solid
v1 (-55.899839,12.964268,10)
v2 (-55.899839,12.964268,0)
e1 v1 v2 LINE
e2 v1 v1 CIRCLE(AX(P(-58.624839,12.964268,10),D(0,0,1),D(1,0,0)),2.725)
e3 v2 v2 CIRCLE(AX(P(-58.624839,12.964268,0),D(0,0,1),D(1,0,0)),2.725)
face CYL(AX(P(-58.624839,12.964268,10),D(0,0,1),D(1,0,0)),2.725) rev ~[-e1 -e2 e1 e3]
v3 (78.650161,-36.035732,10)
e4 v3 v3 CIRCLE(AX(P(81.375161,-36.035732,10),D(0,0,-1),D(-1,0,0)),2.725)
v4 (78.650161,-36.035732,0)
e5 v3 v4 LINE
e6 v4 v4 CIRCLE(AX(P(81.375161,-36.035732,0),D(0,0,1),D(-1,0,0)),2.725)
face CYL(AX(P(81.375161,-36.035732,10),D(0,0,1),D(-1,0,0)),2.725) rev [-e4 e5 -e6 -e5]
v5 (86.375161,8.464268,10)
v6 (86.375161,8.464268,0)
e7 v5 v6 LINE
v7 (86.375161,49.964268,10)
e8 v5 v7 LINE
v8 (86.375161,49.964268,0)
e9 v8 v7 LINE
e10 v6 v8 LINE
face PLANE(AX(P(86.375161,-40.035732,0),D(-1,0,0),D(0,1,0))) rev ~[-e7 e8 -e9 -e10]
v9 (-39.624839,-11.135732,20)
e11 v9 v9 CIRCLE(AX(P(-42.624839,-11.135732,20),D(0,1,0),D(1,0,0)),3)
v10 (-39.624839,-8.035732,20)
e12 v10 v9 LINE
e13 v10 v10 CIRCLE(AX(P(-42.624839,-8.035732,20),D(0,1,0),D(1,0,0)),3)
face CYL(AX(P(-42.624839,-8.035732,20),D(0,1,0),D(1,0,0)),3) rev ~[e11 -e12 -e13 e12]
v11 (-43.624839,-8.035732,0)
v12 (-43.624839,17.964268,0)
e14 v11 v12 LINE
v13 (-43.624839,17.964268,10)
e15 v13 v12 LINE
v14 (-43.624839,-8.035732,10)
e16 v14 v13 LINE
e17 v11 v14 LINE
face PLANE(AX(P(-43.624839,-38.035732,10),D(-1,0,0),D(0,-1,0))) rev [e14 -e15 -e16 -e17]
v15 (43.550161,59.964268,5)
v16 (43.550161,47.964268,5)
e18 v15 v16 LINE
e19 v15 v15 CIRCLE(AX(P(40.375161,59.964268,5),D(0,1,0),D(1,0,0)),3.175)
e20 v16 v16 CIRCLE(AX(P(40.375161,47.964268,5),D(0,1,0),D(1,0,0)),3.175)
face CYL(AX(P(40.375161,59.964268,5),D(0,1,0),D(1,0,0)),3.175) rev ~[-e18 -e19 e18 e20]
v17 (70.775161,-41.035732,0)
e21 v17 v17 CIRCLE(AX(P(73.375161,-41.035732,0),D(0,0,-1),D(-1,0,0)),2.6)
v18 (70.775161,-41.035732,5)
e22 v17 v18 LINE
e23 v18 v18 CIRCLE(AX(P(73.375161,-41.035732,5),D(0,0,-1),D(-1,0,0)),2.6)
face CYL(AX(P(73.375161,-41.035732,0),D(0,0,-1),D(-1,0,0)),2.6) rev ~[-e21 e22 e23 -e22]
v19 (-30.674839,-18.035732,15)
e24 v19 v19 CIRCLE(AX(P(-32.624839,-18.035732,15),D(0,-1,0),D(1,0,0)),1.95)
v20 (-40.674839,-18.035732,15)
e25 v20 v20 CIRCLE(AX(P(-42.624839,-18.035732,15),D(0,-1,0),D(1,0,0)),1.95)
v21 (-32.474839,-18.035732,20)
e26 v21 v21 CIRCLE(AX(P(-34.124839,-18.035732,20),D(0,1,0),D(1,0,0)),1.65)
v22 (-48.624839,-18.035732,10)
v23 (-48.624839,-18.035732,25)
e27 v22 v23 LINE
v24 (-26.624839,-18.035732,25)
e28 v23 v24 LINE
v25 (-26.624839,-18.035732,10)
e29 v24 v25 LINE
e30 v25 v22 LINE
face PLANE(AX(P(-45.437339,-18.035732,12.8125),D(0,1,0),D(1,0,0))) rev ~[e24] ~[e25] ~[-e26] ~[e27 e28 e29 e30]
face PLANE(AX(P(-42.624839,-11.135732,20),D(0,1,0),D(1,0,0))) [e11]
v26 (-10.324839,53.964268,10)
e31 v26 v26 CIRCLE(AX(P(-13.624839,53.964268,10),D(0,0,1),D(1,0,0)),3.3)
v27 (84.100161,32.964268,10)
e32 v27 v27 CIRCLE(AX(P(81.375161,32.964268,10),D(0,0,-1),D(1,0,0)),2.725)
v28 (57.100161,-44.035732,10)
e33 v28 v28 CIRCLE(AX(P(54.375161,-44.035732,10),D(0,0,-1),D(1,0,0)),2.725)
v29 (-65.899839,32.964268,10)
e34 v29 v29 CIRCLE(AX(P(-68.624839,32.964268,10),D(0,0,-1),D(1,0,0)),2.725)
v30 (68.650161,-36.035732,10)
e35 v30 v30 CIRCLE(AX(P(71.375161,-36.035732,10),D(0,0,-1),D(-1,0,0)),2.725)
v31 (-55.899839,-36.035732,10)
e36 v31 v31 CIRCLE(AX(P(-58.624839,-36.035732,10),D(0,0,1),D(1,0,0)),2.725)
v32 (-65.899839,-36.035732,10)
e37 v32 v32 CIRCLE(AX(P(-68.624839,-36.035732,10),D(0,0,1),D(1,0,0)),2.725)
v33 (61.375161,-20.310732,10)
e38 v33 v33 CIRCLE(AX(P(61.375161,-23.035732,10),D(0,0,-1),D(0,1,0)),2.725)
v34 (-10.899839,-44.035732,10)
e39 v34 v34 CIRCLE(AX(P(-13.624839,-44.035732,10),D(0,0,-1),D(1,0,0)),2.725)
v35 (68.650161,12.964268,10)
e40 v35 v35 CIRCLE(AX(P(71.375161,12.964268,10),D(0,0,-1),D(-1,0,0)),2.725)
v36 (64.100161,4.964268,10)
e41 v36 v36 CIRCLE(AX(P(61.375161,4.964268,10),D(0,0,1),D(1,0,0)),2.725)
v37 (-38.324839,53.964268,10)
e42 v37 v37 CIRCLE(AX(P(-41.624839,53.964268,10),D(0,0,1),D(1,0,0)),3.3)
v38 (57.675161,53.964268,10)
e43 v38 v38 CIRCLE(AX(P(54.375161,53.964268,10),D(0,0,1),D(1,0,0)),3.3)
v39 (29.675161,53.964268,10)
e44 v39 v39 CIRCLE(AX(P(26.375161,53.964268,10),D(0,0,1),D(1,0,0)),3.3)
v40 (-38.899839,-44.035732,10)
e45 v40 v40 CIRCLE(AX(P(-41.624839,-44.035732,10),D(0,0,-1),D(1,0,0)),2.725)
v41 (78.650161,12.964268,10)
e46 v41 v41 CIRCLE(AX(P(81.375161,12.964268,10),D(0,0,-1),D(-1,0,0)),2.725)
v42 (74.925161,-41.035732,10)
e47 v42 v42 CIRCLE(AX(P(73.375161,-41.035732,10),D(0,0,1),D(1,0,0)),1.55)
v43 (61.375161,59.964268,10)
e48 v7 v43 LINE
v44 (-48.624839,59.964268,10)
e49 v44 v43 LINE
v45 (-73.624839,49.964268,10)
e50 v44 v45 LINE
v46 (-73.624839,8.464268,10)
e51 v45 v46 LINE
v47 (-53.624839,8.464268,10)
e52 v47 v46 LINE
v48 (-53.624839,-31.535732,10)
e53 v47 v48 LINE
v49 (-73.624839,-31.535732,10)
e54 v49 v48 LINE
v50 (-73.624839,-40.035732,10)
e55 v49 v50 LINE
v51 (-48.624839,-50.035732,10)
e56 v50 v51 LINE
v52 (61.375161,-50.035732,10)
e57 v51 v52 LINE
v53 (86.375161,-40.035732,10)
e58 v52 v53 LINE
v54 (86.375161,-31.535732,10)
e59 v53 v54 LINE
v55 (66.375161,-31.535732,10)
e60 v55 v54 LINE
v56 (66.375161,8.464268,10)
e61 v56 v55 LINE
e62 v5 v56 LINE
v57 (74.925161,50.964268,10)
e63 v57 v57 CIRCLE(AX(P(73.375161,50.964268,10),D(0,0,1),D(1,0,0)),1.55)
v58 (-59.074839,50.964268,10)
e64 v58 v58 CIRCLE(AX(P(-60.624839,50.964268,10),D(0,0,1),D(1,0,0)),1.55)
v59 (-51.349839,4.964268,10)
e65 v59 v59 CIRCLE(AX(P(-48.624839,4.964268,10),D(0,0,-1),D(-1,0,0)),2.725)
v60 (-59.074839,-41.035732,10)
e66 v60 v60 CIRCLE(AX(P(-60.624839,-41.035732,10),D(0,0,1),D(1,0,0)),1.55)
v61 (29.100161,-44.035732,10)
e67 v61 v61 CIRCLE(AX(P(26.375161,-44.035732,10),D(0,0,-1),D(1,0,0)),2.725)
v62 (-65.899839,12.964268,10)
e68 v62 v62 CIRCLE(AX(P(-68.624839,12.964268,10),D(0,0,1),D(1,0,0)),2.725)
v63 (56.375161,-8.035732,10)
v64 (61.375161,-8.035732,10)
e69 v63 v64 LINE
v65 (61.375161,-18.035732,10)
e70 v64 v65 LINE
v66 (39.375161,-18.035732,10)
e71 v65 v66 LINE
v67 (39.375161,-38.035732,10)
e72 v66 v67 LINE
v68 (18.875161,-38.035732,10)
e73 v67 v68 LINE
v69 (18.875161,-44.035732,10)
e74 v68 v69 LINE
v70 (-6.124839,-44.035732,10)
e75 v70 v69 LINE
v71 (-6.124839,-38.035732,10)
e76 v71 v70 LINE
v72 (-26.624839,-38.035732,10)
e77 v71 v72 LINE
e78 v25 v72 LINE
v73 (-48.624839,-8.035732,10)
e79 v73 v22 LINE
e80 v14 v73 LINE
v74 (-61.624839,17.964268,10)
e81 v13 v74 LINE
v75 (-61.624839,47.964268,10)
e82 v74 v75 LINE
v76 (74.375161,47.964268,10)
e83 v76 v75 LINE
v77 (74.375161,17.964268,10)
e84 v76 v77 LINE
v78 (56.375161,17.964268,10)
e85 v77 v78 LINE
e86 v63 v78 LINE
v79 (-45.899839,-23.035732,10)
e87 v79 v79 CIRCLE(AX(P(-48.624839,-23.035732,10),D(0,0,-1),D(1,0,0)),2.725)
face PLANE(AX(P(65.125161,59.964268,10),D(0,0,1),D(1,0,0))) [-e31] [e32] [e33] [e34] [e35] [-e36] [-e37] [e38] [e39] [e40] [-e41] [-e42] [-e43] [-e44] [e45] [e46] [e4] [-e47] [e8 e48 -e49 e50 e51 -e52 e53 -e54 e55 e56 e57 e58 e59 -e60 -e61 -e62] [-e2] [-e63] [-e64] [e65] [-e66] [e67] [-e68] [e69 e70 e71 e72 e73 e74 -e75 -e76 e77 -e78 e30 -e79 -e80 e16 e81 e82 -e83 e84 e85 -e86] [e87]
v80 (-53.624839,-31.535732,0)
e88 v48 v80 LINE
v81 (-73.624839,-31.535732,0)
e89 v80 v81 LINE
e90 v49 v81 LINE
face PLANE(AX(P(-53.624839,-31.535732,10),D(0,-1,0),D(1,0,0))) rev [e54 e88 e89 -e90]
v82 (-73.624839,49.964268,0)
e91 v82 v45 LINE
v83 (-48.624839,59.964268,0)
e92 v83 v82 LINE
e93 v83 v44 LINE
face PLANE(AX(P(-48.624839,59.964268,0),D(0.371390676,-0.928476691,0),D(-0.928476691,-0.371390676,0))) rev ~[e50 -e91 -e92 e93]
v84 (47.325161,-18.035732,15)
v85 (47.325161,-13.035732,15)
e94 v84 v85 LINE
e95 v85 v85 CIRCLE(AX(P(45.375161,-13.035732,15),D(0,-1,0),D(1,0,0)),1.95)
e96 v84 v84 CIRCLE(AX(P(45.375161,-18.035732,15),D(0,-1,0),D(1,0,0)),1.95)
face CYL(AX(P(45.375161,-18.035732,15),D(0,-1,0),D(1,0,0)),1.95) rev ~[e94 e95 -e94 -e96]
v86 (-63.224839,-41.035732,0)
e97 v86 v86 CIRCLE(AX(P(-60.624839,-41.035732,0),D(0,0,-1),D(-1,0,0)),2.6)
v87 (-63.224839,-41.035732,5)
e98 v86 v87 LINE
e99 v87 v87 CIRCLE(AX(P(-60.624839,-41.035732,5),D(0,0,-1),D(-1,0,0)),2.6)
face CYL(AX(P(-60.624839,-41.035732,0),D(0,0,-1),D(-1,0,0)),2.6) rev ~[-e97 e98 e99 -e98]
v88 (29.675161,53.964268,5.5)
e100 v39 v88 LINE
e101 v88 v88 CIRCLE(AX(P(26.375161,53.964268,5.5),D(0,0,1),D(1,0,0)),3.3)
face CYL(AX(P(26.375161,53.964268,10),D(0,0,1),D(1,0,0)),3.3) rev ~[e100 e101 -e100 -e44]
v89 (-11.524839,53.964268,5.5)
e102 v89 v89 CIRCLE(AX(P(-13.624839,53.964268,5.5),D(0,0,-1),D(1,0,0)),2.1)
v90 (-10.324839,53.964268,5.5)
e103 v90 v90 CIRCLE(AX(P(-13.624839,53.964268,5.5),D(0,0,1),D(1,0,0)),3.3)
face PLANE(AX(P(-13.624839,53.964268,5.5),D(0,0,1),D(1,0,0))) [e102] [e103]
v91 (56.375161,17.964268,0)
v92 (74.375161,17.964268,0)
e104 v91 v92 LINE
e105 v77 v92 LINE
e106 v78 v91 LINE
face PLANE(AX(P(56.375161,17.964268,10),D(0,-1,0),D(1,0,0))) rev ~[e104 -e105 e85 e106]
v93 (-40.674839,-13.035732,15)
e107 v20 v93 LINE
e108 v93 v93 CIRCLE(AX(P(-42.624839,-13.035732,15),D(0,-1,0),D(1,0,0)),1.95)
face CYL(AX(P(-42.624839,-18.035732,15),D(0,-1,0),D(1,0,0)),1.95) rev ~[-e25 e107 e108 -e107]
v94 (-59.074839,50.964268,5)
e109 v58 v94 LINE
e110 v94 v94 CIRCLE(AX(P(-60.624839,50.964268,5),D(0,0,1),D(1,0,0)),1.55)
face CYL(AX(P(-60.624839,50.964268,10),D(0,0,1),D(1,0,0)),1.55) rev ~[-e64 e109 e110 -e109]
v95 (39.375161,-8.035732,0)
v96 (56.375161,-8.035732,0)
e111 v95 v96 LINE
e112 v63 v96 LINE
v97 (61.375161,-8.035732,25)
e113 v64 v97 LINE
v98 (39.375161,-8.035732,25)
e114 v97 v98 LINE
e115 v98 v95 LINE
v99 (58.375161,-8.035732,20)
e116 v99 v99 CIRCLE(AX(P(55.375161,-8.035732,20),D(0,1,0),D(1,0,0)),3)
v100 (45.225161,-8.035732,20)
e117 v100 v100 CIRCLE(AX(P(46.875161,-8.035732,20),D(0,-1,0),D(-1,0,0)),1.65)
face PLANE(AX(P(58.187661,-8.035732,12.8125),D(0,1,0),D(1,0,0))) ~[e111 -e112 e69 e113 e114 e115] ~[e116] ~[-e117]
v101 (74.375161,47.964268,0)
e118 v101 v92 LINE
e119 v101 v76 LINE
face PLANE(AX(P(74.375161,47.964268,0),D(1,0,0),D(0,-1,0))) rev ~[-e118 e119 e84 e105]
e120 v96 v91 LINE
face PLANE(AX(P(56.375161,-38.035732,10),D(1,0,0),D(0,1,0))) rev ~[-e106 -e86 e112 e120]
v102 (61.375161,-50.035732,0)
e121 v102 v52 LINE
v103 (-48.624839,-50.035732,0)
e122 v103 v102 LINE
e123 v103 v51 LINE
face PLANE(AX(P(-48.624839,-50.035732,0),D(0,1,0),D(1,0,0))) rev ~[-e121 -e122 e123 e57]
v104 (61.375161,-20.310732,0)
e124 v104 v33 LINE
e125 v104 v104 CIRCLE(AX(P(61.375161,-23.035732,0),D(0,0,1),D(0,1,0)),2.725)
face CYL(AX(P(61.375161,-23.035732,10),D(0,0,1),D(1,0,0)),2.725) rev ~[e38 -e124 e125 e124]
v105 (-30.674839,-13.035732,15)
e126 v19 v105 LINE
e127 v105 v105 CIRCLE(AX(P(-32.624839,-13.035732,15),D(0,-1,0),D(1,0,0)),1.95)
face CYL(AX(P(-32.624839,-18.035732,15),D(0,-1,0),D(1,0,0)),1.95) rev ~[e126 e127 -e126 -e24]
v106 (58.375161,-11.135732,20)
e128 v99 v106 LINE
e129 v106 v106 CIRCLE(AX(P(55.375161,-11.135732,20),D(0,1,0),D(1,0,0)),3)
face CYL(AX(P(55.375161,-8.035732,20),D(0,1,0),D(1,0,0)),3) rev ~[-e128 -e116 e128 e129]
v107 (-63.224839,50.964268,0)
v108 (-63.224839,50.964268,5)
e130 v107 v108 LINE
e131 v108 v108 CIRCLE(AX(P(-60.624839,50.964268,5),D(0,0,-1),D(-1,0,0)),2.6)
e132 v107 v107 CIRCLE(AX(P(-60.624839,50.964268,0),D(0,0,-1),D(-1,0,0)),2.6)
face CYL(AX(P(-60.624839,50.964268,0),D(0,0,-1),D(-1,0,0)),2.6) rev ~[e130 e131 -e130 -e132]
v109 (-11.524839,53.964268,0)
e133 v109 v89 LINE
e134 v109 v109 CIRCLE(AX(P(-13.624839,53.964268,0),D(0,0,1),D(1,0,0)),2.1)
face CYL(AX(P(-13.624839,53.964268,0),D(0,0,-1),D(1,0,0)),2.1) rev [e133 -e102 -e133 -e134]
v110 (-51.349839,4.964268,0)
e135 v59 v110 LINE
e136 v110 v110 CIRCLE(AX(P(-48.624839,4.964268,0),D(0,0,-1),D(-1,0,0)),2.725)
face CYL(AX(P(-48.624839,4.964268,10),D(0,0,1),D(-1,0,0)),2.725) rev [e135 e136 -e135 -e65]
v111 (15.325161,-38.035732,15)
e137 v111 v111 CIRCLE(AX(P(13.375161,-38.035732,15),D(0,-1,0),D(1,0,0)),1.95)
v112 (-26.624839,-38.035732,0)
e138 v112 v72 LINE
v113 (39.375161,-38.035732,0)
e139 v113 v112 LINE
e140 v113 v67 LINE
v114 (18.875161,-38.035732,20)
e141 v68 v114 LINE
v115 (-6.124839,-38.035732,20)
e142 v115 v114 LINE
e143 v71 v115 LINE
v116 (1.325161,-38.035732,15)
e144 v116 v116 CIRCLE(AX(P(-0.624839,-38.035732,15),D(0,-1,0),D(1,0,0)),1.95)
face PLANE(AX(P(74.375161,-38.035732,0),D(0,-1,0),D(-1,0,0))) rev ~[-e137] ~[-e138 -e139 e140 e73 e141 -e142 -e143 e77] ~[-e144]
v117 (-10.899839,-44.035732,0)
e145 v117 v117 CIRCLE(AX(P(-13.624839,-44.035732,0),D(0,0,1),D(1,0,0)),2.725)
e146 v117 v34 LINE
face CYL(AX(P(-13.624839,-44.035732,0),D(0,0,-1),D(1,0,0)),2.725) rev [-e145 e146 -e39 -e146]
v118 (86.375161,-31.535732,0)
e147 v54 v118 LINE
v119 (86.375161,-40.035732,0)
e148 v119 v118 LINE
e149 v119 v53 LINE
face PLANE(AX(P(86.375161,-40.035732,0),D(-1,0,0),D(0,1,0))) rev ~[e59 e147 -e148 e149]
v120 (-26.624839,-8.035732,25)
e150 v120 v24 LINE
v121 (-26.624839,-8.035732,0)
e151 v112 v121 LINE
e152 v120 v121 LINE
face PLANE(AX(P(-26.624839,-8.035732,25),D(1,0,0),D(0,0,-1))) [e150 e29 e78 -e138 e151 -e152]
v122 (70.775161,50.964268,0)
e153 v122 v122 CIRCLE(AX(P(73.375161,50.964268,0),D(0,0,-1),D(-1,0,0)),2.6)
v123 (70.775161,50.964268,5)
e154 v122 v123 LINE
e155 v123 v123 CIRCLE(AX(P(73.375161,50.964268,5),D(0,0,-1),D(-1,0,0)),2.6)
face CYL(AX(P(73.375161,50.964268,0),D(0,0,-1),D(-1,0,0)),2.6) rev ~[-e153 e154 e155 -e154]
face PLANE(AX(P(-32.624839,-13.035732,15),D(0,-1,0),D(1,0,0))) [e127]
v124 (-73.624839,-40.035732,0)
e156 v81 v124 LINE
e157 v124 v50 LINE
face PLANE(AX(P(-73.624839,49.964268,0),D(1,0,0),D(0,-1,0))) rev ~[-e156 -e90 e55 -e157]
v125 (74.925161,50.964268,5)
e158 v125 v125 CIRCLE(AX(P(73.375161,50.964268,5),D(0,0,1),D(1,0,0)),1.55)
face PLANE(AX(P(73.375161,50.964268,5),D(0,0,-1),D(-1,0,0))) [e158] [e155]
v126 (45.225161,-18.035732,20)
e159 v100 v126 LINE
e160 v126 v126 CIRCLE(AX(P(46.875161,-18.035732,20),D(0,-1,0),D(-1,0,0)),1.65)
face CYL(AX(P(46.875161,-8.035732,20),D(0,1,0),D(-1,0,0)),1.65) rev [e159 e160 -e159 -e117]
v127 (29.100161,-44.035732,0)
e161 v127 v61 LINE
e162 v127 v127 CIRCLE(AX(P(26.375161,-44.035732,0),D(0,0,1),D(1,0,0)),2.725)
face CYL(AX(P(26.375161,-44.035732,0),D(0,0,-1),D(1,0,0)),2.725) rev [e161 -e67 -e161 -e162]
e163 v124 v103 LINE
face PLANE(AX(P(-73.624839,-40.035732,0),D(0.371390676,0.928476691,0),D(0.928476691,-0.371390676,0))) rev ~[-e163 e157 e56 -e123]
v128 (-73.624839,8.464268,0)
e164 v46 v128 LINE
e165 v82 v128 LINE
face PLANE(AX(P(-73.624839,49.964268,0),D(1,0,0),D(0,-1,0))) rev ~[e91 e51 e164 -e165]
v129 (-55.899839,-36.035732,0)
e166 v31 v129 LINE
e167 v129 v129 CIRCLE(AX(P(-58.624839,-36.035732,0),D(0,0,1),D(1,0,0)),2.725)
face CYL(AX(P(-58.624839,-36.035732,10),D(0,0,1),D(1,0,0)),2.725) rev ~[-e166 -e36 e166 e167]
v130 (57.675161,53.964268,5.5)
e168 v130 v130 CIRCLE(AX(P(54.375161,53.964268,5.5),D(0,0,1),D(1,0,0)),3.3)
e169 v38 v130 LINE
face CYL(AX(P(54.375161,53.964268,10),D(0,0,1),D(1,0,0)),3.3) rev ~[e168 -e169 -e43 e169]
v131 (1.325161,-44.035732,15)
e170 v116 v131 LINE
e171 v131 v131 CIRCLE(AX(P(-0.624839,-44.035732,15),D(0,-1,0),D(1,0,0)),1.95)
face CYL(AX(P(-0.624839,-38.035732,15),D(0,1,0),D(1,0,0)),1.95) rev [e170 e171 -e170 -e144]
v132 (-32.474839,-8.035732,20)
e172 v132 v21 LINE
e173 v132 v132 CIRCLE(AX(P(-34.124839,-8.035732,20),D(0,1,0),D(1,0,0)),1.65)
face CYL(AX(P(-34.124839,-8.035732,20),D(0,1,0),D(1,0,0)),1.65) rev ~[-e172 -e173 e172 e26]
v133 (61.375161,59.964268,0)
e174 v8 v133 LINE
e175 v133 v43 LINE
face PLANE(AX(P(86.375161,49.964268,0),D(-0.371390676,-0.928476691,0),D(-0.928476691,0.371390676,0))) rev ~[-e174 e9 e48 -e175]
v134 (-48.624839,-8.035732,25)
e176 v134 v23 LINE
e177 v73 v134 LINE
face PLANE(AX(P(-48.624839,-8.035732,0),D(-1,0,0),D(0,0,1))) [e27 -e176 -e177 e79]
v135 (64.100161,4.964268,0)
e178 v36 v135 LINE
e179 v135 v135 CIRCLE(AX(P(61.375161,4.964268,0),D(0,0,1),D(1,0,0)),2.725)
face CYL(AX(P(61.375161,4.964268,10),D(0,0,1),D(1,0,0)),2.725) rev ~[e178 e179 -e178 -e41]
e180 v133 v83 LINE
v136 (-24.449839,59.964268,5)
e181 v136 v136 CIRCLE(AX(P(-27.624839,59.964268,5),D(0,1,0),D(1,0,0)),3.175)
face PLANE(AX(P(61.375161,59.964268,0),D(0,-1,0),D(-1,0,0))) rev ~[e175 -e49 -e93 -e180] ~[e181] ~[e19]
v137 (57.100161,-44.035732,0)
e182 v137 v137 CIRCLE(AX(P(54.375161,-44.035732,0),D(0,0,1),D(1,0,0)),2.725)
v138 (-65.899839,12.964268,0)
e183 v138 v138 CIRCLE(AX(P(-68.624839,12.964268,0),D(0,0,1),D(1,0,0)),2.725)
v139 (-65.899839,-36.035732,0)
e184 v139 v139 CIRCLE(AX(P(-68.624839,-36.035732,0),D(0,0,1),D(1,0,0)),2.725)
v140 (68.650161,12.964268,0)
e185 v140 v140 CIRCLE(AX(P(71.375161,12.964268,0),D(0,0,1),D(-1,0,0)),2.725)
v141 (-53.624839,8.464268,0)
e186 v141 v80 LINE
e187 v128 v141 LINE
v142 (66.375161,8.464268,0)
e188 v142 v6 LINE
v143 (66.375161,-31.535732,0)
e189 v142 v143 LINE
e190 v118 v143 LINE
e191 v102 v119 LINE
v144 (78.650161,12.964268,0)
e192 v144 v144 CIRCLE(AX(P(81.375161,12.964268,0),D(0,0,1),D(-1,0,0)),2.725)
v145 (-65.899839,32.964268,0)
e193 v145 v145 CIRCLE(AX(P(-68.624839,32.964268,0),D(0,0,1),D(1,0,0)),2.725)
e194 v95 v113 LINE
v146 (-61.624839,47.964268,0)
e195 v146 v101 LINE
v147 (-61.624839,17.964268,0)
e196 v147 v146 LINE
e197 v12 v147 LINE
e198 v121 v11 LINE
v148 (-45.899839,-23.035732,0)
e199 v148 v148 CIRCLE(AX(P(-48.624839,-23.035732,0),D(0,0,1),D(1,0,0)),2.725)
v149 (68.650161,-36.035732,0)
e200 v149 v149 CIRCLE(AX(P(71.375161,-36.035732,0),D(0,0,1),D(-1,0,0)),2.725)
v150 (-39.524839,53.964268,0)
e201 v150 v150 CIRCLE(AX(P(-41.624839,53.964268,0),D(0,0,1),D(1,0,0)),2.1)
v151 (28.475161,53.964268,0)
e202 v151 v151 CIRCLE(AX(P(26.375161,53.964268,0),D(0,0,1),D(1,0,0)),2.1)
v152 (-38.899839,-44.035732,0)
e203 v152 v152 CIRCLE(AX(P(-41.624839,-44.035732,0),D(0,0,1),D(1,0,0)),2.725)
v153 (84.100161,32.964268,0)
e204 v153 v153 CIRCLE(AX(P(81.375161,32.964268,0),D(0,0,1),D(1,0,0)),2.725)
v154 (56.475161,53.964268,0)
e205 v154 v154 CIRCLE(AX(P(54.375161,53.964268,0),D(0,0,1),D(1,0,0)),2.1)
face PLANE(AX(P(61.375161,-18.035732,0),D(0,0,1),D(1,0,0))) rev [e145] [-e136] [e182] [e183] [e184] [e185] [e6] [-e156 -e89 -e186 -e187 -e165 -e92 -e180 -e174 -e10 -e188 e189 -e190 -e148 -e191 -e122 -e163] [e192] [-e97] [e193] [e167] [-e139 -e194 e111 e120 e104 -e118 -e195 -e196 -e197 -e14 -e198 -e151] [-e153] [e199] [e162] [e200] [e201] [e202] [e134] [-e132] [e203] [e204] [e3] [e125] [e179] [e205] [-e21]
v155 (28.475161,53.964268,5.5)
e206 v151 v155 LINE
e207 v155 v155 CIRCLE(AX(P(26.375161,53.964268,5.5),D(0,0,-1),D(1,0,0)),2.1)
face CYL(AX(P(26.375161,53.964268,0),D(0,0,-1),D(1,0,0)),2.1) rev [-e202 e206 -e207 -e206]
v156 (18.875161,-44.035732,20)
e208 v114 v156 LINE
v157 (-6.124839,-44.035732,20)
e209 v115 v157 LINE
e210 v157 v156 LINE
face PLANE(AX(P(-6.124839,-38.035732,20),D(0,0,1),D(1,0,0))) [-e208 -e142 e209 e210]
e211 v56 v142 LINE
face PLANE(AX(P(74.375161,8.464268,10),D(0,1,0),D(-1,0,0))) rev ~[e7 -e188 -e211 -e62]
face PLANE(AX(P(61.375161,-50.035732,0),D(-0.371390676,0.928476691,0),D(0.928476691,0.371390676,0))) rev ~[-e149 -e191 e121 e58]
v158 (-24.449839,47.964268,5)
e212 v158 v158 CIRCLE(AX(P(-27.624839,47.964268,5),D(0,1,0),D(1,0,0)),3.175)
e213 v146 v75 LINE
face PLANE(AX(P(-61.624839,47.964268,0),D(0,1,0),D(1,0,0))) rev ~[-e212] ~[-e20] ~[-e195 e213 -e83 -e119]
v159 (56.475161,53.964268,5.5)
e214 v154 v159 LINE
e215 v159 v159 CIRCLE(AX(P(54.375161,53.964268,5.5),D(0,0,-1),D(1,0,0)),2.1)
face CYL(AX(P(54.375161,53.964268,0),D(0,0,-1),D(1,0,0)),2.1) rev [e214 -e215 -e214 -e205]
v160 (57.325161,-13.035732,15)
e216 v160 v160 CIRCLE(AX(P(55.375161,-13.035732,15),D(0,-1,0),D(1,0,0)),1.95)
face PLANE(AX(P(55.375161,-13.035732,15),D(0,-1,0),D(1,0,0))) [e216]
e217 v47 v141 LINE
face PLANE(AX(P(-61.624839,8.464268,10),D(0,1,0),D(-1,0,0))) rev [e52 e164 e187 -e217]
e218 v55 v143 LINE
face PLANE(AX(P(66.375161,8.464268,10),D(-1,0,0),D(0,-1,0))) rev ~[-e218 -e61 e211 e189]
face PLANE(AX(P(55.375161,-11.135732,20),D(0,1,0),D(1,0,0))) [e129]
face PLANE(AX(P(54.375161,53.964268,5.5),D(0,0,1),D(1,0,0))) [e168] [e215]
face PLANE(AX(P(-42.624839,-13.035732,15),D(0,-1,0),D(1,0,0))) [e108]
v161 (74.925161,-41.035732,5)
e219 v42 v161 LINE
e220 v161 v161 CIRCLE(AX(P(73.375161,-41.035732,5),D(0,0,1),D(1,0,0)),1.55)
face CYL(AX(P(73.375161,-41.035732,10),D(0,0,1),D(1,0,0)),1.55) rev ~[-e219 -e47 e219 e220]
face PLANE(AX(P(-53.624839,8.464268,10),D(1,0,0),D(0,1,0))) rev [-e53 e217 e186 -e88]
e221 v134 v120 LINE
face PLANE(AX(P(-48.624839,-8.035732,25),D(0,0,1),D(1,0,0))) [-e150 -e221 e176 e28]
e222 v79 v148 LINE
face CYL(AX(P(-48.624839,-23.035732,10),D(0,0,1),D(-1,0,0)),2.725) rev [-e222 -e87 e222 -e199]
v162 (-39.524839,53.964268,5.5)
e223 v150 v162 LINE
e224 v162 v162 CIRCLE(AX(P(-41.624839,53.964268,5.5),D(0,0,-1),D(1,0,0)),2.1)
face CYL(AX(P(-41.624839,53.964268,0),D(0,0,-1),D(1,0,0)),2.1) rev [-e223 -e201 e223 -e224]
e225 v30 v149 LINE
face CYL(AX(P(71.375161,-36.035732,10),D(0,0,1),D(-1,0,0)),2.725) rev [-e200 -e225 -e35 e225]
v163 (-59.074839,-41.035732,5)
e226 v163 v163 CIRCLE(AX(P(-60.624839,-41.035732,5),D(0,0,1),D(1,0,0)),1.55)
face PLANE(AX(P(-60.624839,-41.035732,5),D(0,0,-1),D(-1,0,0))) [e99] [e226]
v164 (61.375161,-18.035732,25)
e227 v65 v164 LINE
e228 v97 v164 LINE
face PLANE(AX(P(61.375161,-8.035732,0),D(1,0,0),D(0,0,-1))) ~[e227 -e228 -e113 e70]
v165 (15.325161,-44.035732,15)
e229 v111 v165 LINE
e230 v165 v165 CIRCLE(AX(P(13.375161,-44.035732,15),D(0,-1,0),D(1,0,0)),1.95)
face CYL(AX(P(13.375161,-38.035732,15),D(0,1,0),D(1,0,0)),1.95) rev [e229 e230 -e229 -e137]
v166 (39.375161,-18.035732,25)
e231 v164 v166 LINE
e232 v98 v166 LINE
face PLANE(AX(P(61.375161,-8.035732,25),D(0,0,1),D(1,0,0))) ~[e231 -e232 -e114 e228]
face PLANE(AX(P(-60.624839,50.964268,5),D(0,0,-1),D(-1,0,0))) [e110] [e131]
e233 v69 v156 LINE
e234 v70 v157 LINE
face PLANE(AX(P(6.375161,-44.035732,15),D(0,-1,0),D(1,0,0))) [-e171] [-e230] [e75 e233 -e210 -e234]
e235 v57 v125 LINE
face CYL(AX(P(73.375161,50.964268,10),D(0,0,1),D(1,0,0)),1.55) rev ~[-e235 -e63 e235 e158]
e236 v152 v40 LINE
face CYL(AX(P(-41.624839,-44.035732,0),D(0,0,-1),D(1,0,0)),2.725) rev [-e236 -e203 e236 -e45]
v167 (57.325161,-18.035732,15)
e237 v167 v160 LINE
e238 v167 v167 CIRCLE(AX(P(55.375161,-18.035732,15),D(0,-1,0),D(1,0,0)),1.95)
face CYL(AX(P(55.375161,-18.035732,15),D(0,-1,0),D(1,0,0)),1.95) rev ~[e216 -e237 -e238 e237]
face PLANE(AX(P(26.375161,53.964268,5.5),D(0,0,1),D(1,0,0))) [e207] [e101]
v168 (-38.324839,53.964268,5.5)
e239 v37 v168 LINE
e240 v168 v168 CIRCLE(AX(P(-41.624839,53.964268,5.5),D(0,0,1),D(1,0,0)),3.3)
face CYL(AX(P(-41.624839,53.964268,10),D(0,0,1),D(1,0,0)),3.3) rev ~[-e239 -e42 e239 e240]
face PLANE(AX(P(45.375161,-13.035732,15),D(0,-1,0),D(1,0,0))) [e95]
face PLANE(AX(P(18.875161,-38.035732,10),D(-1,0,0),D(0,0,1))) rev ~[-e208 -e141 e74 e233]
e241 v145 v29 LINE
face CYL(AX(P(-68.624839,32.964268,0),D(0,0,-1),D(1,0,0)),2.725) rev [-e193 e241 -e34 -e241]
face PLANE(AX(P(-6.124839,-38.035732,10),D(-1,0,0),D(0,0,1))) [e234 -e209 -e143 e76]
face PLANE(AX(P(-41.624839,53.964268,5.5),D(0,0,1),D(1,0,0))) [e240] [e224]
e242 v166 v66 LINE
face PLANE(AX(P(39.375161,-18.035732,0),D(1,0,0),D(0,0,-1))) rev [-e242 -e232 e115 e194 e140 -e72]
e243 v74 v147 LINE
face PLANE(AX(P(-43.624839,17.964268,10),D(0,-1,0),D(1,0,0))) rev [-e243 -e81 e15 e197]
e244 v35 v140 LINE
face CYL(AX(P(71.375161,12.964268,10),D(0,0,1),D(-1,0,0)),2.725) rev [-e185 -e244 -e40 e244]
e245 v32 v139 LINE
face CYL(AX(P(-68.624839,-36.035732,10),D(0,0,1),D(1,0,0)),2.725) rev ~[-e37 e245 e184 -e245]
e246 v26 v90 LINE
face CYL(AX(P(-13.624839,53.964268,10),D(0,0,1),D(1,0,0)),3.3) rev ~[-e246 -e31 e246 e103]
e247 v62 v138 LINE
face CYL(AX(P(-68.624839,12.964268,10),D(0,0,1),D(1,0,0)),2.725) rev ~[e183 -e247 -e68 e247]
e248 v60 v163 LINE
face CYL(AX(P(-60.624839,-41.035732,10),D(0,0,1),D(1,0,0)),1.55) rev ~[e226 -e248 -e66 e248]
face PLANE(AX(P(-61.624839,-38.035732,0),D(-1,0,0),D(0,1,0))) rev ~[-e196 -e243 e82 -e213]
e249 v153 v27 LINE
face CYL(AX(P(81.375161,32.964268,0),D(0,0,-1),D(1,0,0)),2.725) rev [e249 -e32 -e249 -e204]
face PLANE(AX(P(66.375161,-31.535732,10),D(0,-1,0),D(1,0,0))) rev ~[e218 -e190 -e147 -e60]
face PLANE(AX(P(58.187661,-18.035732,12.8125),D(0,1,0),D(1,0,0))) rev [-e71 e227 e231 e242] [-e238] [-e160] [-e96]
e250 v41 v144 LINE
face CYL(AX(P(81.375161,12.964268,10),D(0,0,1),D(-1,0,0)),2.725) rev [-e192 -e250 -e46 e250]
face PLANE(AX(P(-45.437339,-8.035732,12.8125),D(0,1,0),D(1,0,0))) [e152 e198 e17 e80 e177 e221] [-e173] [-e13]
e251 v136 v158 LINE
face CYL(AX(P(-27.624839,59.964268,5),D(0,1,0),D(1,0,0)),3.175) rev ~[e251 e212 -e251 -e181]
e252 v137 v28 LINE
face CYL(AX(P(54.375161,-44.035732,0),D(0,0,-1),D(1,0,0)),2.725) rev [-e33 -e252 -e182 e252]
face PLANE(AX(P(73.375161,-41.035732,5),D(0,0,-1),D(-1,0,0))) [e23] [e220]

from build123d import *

# Parameters (mm, degrees)
SKETCH1_R                 = 2.725
SKETCH1_R_2               = 2.1
BOSS_EXTRUDE2_DEPTH       = 202.6
SKETCH2_W                 = 182.6
SKETCH2_H                 = 86
CUT_EXTRUDE1_DEPTH        = 161
CUT_EXTRUDE3_START        = 182.6
SKETCH4_R                 = 3
CUT_EXTRUDE3_DEPTH        = 4.5
SKETCH3_W                 = 110
SKETCH3_H                 = 182.6
CUT_EXTRUDE4_DEPTH        = 111
CUT_EXTRUDE5_START        = -12
SKETCH5_W                 = 125
SKETCH5_H                 = 182.6
CUT_EXTRUDE5_DEPTH        = 111
SKETCH6_W                 = 20
SKETCH6_H                 = 40
CUT_EXTRUDE7_DEPTH        = 12
SKETCH8_R                 = 2.725
BOSS_EXTRUDE3_DEPTH       = 10
BOSS_EXTRUDE4_START       = -192.6
SKETCH8_2_R               = 2.725
BOSS_EXTRUDE4_DEPTH       = 10
BOSS_EXTRUDE5_START       = 30
SKETCH9_W                 = 2
SKETCH9_H                 = 10
SKETCH9_W_2               = 15
SKETCH9_H_2               = 5
SKETCH9_R                 = 1.65
BOSS_EXTRUDE5_DEPTH       = 10
SKETCH10_W                = 22
SKETCH10_H                = 10
BOSS_EXTRUDE6_DEPTH       = 20
MIRROR3_START             = 30
MIRROR3_COPY_1_SKETCH_W   = 2
MIRROR3_COPY_1_SKETCH_H   = 10
MIRROR3_COPY_1_SKETCH_W_2 = 15
MIRROR3_COPY_1_SKETCH_H_2 = 5
MIRROR3_COPY_1_SKETCH_R   = 1.65
MIRROR3_COPY_1_DEPTH      = 10
MIRROR3_COPY_2_SKETCH_W   = 22
MIRROR3_COPY_2_SKETCH_H   = 10
MIRROR3_COPY_2_DEPTH      = 20
SKETCH11_R                = 2.25
CUT_EXTRUDE8_DEPTH        = 203.6
SKETCH12_R                = 3
CUT_EXTRUDE9_DEPTH        = 3.1
CUT_EXTRUDE10_DEPTH       = 111
SKETCH14_R                = 1.55
CUT_EXTRUDE11_DEPTH       = 10
SKETCH15_R                = 2.6
CUT_EXTRUDE12_DEPTH       = 5
BOSS_EXTRUDE7_START       = -12
SKETCH16_W                = 25
SKETCH16_H                = 10
SKETCH16_R                = 1.95
BOSS_EXTRUDE7_DEPTH       = 6
SKETCH17_R                = 1.95
CUT_EXTRUDE13_DEPTH       = 5
SKETCH18_R                = 2.725
CUT_EXTRUDE14_DEPTH       = 11
SKETCH19_R                = 3.175
CUT_EXTRUDE15_DEPTH       = 20
SKETCH20_R                = 2.725
CUT_EXTRUDE16_DEPTH       = 20
SKETCH21_R                = 3.3
CUT_EXTRUDE17_DEPTH       = 4.5


with BuildPart() as part:
    # Sketch1 → Boss-Extrude2 (new body)
    with BuildSketch(Plane.XY):
        Polygon((-48.624838984, -50.035732152), (61.375161016, -50.035732152), (86.375161016, -40.035732152), (86.375161016, 49.964267848), (61.375161016, 59.964267848), (-48.624838984, 59.964267848), (-73.624838984, 49.964267848), (-73.624838984, -40.035732152), align=None)
        with Locations((-41.624838984, -44.035732152)):
            Circle(SKETCH1_R, mode=Mode.SUBTRACT)
        with Locations((-68.624838984, -23.035732152)):
            Circle(SKETCH1_R, mode=Mode.SUBTRACT)
        with Locations((-13.624838984, -44.035732152)):
            Circle(SKETCH1_R, mode=Mode.SUBTRACT)
        with Locations((-68.624838984, 4.964267848)):
            Circle(SKETCH1_R, mode=Mode.SUBTRACT)
        with Locations((26.375161016, -44.035732152)):
            Circle(SKETCH1_R, mode=Mode.SUBTRACT)
        with Locations((54.375161016, -44.035732152)):
            Circle(SKETCH1_R, mode=Mode.SUBTRACT)
        with Locations((81.375161016, -23.035732152)):
            Circle(SKETCH1_R, mode=Mode.SUBTRACT)
        Polygon((74.375161016, 47.964267848), (74.375161016, -38.035732152), (13.375161016, -38.035732152), (-0.624838984, -38.035732152), (-61.624838984, -38.035732152), (-61.624838984, 47.964267848), (-7.624838984, 47.964267848), (-0.624838984, 47.964267848), (13.375161016, 47.964267848), (20.375161016, 47.964267848), align=None, mode=Mode.SUBTRACT)
        with Locations((81.375161016, 4.964267848)):
            Circle(SKETCH1_R, mode=Mode.SUBTRACT)
        with Locations((-68.624838984, 32.964267848)):
            Circle(SKETCH1_R, mode=Mode.SUBTRACT)
        with Locations((-41.624838984, 53.964267848)):
            Circle(SKETCH1_R_2, mode=Mode.SUBTRACT)
        with Locations((-13.624838984, 53.964267848)):
            Circle(SKETCH1_R_2, mode=Mode.SUBTRACT)
        with Locations((26.375161016, 53.964267848)):
            Circle(SKETCH1_R_2, mode=Mode.SUBTRACT)
        with Locations((81.375161016, 32.964267848)):
            Circle(SKETCH1_R, mode=Mode.SUBTRACT)
        with Locations((54.375161016, 53.964267848)):
            Circle(SKETCH1_R_2, mode=Mode.SUBTRACT)
    extrude(amount=BOSS_EXTRUDE2_DEPTH)

    # Sketch2 → Cut-Extrude1 (cut, through all)
    with BuildSketch(Plane.ZY.offset(73.624838984)):
        with Locations((101.3, 4.964267848)):
            Rectangle(SKETCH2_W, SKETCH2_H)
    extrude(amount=-CUT_EXTRUDE1_DEPTH, mode=Mode.SUBTRACT)

    # Sketch4 → Cut-Extrude3 (cut)
    with BuildSketch(Plane.XY.offset(10).offset(CUT_EXTRUDE3_START)):
        with Locations((-68.624838984, 32.964267848)):
            Circle(SKETCH4_R)
        with Locations((-68.624838984, 4.964267848)):
            Circle(SKETCH4_R)
        with Locations((-68.624838984, -23.035732152)):
            Circle(SKETCH4_R)
        with Locations((-41.624838984, 53.964267848)):
            Circle(SKETCH4_R)
        with Locations((-13.624838984, 53.964267848)):
            Circle(SKETCH4_R)
        with Locations((26.375161016, 53.964267848)):
            Circle(SKETCH4_R)
        with Locations((54.375161016, 53.964267848)):
            Circle(SKETCH4_R)
        with Locations((81.375161016, 32.964267848)):
            Circle(SKETCH4_R)
        with Locations((81.375161016, 4.964267848)):
            Circle(SKETCH4_R)
        with Locations((81.375161016, -23.035732152)):
            Circle(SKETCH4_R)
        with Locations((54.375161016, -44.035732152)):
            Circle(SKETCH4_R)
        with Locations((26.375161016, -44.035732152)):
            Circle(SKETCH4_R)
        with Locations((-13.624838984, -44.035732152)):
            Circle(SKETCH4_R)
        with Locations((-41.624838984, -44.035732152)):
            Circle(SKETCH4_R)
    extrude(amount=CUT_EXTRUDE3_DEPTH, mode=Mode.SUBTRACT)

    # Sketch3 → Cut-Extrude4 (cut, through all)
    with BuildSketch(Plane(origin=(0, 59.964267848, 0), x_dir=(1, 0, 0), z_dir=(0, 1, 0))):
        with Locations((6.375161016, -101.3)):
            Rectangle(SKETCH3_W, SKETCH3_H)
    extrude(amount=-CUT_EXTRUDE4_DEPTH, mode=Mode.SUBTRACT)

    # Sketch5 → Cut-Extrude5 (cut, through all)
    with BuildSketch(Plane(origin=(0, -38.035732152, 0), x_dir=(1, 0, 0), z_dir=(0, 1, 0)).offset(CUT_EXTRUDE5_START)):
        with Locations((6.375161016, -101.3)):
            Rectangle(SKETCH5_W, SKETCH5_H)
    extrude(amount=CUT_EXTRUDE5_DEPTH, mode=Mode.SUBTRACT)

    # Sketch6 → Cut-Extrude7 (cut)
    with BuildSketch(Plane(origin=(86.375161016, 0, 0), x_dir=(0, 0, -1), z_dir=(1, 0, 0))):
        with Locations((-192.6, -11.535732152)):
            Rectangle(SKETCH6_W, SKETCH6_H)
        with Locations((-10, -11.535732152)):
            Rectangle(SKETCH6_W, SKETCH6_H)
    cut_extrude7 = extrude(amount=-CUT_EXTRUDE7_DEPTH, mode=Mode.SUBTRACT)

    # Sketch8 → Boss-Extrude3 (add)
    with BuildSketch(Plane.XY.offset(202.6)):
        Polygon((66.375161016, 8.464267848), (66.375161016, -31.535732152), (74.375161016, -31.535732152), (74.375161016, -38.035732152), (56.375161016, -38.035732152), (56.375161016, 17.964267848), (74.375161016, 17.964267848), (74.375161016, 8.464267848), align=None)
        with Locations((61.375161016, 4.964267848)):
            Circle(SKETCH8_R, mode=Mode.SUBTRACT)
        with Locations((61.375161016, -23.035732152)):
            Circle(SKETCH8_R, mode=Mode.SUBTRACT)
    boss_extrude3 = extrude(amount=-BOSS_EXTRUDE3_DEPTH)

    # Sketch8<2> → Boss-Extrude4 (add)
    with BuildSketch(Plane.XY.offset(202.6).offset(BOSS_EXTRUDE4_START)):
        Polygon((66.375161016, 8.464267848), (66.375161016, -31.535732152), (74.375161016, -31.535732152), (74.375161016, -38.035732152), (56.375161016, -38.035732152), (56.375161016, 17.964267848), (74.375161016, 17.964267848), (74.375161016, 8.464267848), align=None)
        with Locations((61.375161016, 4.964267848)):
            Circle(SKETCH8_2_R, mode=Mode.SUBTRACT)
        with Locations((61.375161016, -23.035732152)):
            Circle(SKETCH8_2_R, mode=Mode.SUBTRACT)
    boss_extrude4 = extrude(amount=-BOSS_EXTRUDE4_DEPTH)

    # Mirror1: Cut-Extrude7, Boss-Extrude3, Boss-Extrude4 across plane
    add(cut_extrude7.mirror(Plane(origin=(6.375161016, 0, 0), x_dir=(0, 0, 1), z_dir=(1, 0, 0))), mode=Mode.SUBTRACT)
    add(boss_extrude3.mirror(Plane(origin=(6.375161016, 0, 0), x_dir=(0, 0, 1), z_dir=(1, 0, 0))))
    add(boss_extrude4.mirror(Plane(origin=(6.375161016, 0, 0), x_dir=(0, 0, 1), z_dir=(1, 0, 0))))

    # Sketch9 → Boss-Extrude5 (add)
    with BuildSketch(Plane(origin=(0, -38.035732152, 0), x_dir=(1, 0, 0), z_dir=(0, 1, 0)).offset(BOSS_EXTRUDE5_START)):
        Polygon((-48.624838984, -25), (-41.624838984, -25), (-41.624838984, -15), (-41.624838984, -10), (-43.624838984, -10), (-43.624838984, 0), (-48.624838984, 0), align=None)
        with Locations((-42.624838984, -5)):
            Rectangle(SKETCH9_W, SKETCH9_H)
        with Locations((-34.124838984, -5)):
            Rectangle(SKETCH9_W_2, SKETCH9_H)
        with Locations((-34.124838984, -12.5)):
            Rectangle(SKETCH9_W_2, SKETCH9_H_2)
        with Locations((-34.124838984, -20)):
            Rectangle(SKETCH9_W_2, SKETCH9_H)
        with Locations((-34.124838984, -20)):
            Circle(SKETCH9_R, mode=Mode.SUBTRACT)
    boss_extrude5 = extrude(amount=-BOSS_EXTRUDE5_DEPTH)

    # Sketch10 → Boss-Extrude6 (add)
    with BuildSketch(Plane.XZ.offset(18.035732152)):
        with Locations((-37.624838984, 5)):
            Rectangle(SKETCH10_W, SKETCH10_H)
    boss_extrude6 = extrude(amount=BOSS_EXTRUDE6_DEPTH)

    # Mirror2: Boss-Extrude5, Boss-Extrude6 across plane
    add(boss_extrude5.mirror(Plane.XY.offset(101.3)))
    add(boss_extrude6.mirror(Plane.XY.offset(101.3)))

    # Mirror3: Boss-Extrude5, Boss-Extrude6 across plane
    add(boss_extrude5.mirror(Plane(origin=(6.375161016, 0, 0), x_dir=(0, 0, 1), z_dir=(1, 0, 0))))
    add(boss_extrude6.mirror(Plane(origin=(6.375161016, 0, 0), x_dir=(0, 0, 1), z_dir=(1, 0, 0))))

    # Mirror3 copy 1 sketch → Mirror3 copy 1 (add)
    with BuildSketch(Plane(origin=(12.750322031, -38.035732152, 202.6), x_dir=(-1, 0, 0), z_dir=(0, 1, 0)).offset(MIRROR3_START)):
        Polygon((-48.624838984, -25), (-41.624838984, -25), (-41.624838984, -15), (-41.624838984, -10), (-43.624838984, -10), (-43.624838984, 0), (-48.624838984, 0), align=None)
        with Locations((-42.624838984, -5)):
            Rectangle(MIRROR3_COPY_1_SKETCH_W, MIRROR3_COPY_1_SKETCH_H)
        with Locations((-34.124838984, -5)):
            Rectangle(MIRROR3_COPY_1_SKETCH_W_2, MIRROR3_COPY_1_SKETCH_H)
        with Locations((-34.124838984, -12.5)):
            Rectangle(MIRROR3_COPY_1_SKETCH_W_2, MIRROR3_COPY_1_SKETCH_H_2)
        with Locations((-34.124838984, -20)):
            Rectangle(MIRROR3_COPY_1_SKETCH_W_2, MIRROR3_COPY_1_SKETCH_H)
        with Locations((-34.124838984, -20)):
            Circle(MIRROR3_COPY_1_SKETCH_R, mode=Mode.SUBTRACT)
    extrude(amount=-MIRROR3_COPY_1_DEPTH)

    # Mirror3 copy 2 sketch → Mirror3 copy 2 (add)
    with BuildSketch(Plane(origin=(12.750322031, -18.035732152, 202.6), x_dir=(-1, 0, 0), z_dir=(0, -1, 0))):
        with Locations((-37.624838984, 5)):
            Rectangle(MIRROR3_COPY_2_SKETCH_W, MIRROR3_COPY_2_SKETCH_H)
    extrude(amount=MIRROR3_COPY_2_DEPTH)

    # Sketch11 → Cut-Extrude8 (cut, through all)
    with BuildSketch(Plane.XY.offset(202.6)):
        with Locations((-48.624838984, -23.035732152)):
            Circle(SKETCH11_R)
        with Locations((61.375161016, -23.035732152)):
            Circle(SKETCH11_R)
    extrude(amount=-CUT_EXTRUDE8_DEPTH, mode=Mode.SUBTRACT)

    # Sketch12 → Cut-Extrude9 (cut)
    with BuildSketch(Plane(origin=(0, -8.035732152, 0), x_dir=(1, 0, 0), z_dir=(0, 1, 0))):
        with Locations((-42.624838984, -20)):
            Circle(SKETCH12_R)
        with Locations((55.375161016, -20)):
            Circle(SKETCH12_R)
        with Locations((55.375161016, -182.6)):
            Circle(SKETCH12_R)
        with Locations((-42.624838984, -182.6)):
            Circle(SKETCH12_R)
    extrude(amount=-CUT_EXTRUDE9_DEPTH, mode=Mode.SUBTRACT)

    # Sketch13 → Cut-Extrude10 (cut, through all)
    with BuildSketch(Plane(origin=(0, 59.964267848, 0), x_dir=(1, 0, 0), z_dir=(0, 1, 0))):
        Polygon((-52.374838984, -10), (-52.374838984, -41.45964147), (65.444041386, -41.45964147), (65.125161016, -10), (86.375161016, -10), (86.375161016, -202.6), (-73.624838984, -202.6), (-73.624838984, -10), align=None)
    extrude(amount=-CUT_EXTRUDE10_DEPTH, mode=Mode.SUBTRACT)

    # Sketch14 → Cut-Extrude11 (cut)
    with BuildSketch(Plane.XY.offset(10)):
        with Locations((-60.624838984, 50.964267848)):
            Circle(SKETCH14_R)
        with Locations((73.375161016, 50.964267848)):
            Circle(SKETCH14_R)
        with Locations((73.375161016, -41.035732152)):
            Circle(SKETCH14_R)
        with Locations((-60.624838984, -41.035732152)):
            Circle(SKETCH14_R)
    extrude(amount=-CUT_EXTRUDE11_DEPTH, mode=Mode.SUBTRACT)

    # Sketch15 → Cut-Extrude12 (cut)
    with BuildSketch(Plane(origin=(0, 0, 0), x_dir=(-1, 0, 0), z_dir=(0, 0, -1))):
        with Locations((-73.375161016, 50.964267848)):
            Circle(SKETCH15_R)
        with Locations((-73.375161016, -41.035732152)):
            Circle(SKETCH15_R)
        with Locations((60.624838984, -41.035732152)):
            Circle(SKETCH15_R)
        with Locations((60.624838984, 50.964267848)):
            Circle(SKETCH15_R)
    extrude(amount=-CUT_EXTRUDE12_DEPTH, mode=Mode.SUBTRACT)

    # Sketch16 → Boss-Extrude7 (add)
    with BuildSketch(Plane.XZ.offset(50.035732152).offset(BOSS_EXTRUDE7_START)):
        with Locations((6.375161016, 15)):
            Rectangle(SKETCH16_W, SKETCH16_H)
        with Locations((-0.624838984, 15)):
            Circle(SKETCH16_R, mode=Mode.SUBTRACT)
        with Locations((13.375161016, 15)):
            Circle(SKETCH16_R, mode=Mode.SUBTRACT)
    extrude(amount=BOSS_EXTRUDE7_DEPTH)

    # Sketch17 → Cut-Extrude13 (cut)
    with BuildSketch(Plane.XZ.offset(18.035732152)):
        with Locations((-42.624838984, 15)):
            Circle(SKETCH17_R)
        with Locations((45.375161016, 15)):
            Circle(SKETCH17_R)
        with Locations((55.375161016, 15)):
            Circle(SKETCH17_R)
        with Locations((-32.624838984, 15)):
            Circle(SKETCH17_R)
    extrude(amount=-CUT_EXTRUDE13_DEPTH, mode=Mode.SUBTRACT)

    # Sketch18 → Cut-Extrude14 (cut, through all)
    with BuildSketch(Plane.XY.offset(10)):
        with Locations((-68.624838984, 12.964267848)):
            Circle(SKETCH18_R)
        with Locations((-58.624838984, 12.964267848)):
            Circle(SKETCH18_R)
        with Locations((-68.624838984, -36.035732152)):
            Circle(SKETCH18_R)
        with Locations((-58.624838984, -36.035732152)):
            Circle(SKETCH18_R)
    cut_extrude14 = extrude(amount=-CUT_EXTRUDE14_DEPTH, mode=Mode.SUBTRACT)

    # Mirror5: Cut-Extrude14 across plane
    add(cut_extrude14.mirror(Plane(origin=(6.375161016, 59.964267848, 0), x_dir=(0, 0, 1), z_dir=(-1, 0, 0))), mode=Mode.SUBTRACT)

    # Sketch19 → Cut-Extrude15 (cut)
    with BuildSketch(Plane(origin=(0, 59.964267848, 0), x_dir=(1, 0, 0), z_dir=(0, 1, 0))):
        with Locations((-27.624838984, -5)):
            Circle(SKETCH19_R)
        with Locations((40.375161016, -5)):
            Circle(SKETCH19_R)
    extrude(amount=-CUT_EXTRUDE15_DEPTH, mode=Mode.SUBTRACT)

    # Sketch20 → Cut-Extrude16 (cut)
    with BuildSketch(Plane.XY.offset(10)):
        with Locations((-48.624838984, -23.035732152)):
            Circle(SKETCH20_R)
        with Locations((61.375161016, -23.035732152)):
            Circle(SKETCH20_R)
    extrude(amount=-CUT_EXTRUDE16_DEPTH, mode=Mode.SUBTRACT)

    # Sketch21 → Cut-Extrude17 (cut)
    with BuildSketch(Plane.XY.offset(10)):
        with Locations((-13.624838984, 53.964267848)):
            Circle(SKETCH21_R)
        with Locations((-41.624838984, 53.964267848)):
            Circle(SKETCH21_R)
        with Locations((26.375161016, 53.964267848)):
            Circle(SKETCH21_R)
        with Locations((54.375161016, 53.964267848)):
            Circle(SKETCH21_R)
    extrude(amount=-CUT_EXTRUDE17_DEPTH, mode=Mode.SUBTRACT)


solid = part.part
